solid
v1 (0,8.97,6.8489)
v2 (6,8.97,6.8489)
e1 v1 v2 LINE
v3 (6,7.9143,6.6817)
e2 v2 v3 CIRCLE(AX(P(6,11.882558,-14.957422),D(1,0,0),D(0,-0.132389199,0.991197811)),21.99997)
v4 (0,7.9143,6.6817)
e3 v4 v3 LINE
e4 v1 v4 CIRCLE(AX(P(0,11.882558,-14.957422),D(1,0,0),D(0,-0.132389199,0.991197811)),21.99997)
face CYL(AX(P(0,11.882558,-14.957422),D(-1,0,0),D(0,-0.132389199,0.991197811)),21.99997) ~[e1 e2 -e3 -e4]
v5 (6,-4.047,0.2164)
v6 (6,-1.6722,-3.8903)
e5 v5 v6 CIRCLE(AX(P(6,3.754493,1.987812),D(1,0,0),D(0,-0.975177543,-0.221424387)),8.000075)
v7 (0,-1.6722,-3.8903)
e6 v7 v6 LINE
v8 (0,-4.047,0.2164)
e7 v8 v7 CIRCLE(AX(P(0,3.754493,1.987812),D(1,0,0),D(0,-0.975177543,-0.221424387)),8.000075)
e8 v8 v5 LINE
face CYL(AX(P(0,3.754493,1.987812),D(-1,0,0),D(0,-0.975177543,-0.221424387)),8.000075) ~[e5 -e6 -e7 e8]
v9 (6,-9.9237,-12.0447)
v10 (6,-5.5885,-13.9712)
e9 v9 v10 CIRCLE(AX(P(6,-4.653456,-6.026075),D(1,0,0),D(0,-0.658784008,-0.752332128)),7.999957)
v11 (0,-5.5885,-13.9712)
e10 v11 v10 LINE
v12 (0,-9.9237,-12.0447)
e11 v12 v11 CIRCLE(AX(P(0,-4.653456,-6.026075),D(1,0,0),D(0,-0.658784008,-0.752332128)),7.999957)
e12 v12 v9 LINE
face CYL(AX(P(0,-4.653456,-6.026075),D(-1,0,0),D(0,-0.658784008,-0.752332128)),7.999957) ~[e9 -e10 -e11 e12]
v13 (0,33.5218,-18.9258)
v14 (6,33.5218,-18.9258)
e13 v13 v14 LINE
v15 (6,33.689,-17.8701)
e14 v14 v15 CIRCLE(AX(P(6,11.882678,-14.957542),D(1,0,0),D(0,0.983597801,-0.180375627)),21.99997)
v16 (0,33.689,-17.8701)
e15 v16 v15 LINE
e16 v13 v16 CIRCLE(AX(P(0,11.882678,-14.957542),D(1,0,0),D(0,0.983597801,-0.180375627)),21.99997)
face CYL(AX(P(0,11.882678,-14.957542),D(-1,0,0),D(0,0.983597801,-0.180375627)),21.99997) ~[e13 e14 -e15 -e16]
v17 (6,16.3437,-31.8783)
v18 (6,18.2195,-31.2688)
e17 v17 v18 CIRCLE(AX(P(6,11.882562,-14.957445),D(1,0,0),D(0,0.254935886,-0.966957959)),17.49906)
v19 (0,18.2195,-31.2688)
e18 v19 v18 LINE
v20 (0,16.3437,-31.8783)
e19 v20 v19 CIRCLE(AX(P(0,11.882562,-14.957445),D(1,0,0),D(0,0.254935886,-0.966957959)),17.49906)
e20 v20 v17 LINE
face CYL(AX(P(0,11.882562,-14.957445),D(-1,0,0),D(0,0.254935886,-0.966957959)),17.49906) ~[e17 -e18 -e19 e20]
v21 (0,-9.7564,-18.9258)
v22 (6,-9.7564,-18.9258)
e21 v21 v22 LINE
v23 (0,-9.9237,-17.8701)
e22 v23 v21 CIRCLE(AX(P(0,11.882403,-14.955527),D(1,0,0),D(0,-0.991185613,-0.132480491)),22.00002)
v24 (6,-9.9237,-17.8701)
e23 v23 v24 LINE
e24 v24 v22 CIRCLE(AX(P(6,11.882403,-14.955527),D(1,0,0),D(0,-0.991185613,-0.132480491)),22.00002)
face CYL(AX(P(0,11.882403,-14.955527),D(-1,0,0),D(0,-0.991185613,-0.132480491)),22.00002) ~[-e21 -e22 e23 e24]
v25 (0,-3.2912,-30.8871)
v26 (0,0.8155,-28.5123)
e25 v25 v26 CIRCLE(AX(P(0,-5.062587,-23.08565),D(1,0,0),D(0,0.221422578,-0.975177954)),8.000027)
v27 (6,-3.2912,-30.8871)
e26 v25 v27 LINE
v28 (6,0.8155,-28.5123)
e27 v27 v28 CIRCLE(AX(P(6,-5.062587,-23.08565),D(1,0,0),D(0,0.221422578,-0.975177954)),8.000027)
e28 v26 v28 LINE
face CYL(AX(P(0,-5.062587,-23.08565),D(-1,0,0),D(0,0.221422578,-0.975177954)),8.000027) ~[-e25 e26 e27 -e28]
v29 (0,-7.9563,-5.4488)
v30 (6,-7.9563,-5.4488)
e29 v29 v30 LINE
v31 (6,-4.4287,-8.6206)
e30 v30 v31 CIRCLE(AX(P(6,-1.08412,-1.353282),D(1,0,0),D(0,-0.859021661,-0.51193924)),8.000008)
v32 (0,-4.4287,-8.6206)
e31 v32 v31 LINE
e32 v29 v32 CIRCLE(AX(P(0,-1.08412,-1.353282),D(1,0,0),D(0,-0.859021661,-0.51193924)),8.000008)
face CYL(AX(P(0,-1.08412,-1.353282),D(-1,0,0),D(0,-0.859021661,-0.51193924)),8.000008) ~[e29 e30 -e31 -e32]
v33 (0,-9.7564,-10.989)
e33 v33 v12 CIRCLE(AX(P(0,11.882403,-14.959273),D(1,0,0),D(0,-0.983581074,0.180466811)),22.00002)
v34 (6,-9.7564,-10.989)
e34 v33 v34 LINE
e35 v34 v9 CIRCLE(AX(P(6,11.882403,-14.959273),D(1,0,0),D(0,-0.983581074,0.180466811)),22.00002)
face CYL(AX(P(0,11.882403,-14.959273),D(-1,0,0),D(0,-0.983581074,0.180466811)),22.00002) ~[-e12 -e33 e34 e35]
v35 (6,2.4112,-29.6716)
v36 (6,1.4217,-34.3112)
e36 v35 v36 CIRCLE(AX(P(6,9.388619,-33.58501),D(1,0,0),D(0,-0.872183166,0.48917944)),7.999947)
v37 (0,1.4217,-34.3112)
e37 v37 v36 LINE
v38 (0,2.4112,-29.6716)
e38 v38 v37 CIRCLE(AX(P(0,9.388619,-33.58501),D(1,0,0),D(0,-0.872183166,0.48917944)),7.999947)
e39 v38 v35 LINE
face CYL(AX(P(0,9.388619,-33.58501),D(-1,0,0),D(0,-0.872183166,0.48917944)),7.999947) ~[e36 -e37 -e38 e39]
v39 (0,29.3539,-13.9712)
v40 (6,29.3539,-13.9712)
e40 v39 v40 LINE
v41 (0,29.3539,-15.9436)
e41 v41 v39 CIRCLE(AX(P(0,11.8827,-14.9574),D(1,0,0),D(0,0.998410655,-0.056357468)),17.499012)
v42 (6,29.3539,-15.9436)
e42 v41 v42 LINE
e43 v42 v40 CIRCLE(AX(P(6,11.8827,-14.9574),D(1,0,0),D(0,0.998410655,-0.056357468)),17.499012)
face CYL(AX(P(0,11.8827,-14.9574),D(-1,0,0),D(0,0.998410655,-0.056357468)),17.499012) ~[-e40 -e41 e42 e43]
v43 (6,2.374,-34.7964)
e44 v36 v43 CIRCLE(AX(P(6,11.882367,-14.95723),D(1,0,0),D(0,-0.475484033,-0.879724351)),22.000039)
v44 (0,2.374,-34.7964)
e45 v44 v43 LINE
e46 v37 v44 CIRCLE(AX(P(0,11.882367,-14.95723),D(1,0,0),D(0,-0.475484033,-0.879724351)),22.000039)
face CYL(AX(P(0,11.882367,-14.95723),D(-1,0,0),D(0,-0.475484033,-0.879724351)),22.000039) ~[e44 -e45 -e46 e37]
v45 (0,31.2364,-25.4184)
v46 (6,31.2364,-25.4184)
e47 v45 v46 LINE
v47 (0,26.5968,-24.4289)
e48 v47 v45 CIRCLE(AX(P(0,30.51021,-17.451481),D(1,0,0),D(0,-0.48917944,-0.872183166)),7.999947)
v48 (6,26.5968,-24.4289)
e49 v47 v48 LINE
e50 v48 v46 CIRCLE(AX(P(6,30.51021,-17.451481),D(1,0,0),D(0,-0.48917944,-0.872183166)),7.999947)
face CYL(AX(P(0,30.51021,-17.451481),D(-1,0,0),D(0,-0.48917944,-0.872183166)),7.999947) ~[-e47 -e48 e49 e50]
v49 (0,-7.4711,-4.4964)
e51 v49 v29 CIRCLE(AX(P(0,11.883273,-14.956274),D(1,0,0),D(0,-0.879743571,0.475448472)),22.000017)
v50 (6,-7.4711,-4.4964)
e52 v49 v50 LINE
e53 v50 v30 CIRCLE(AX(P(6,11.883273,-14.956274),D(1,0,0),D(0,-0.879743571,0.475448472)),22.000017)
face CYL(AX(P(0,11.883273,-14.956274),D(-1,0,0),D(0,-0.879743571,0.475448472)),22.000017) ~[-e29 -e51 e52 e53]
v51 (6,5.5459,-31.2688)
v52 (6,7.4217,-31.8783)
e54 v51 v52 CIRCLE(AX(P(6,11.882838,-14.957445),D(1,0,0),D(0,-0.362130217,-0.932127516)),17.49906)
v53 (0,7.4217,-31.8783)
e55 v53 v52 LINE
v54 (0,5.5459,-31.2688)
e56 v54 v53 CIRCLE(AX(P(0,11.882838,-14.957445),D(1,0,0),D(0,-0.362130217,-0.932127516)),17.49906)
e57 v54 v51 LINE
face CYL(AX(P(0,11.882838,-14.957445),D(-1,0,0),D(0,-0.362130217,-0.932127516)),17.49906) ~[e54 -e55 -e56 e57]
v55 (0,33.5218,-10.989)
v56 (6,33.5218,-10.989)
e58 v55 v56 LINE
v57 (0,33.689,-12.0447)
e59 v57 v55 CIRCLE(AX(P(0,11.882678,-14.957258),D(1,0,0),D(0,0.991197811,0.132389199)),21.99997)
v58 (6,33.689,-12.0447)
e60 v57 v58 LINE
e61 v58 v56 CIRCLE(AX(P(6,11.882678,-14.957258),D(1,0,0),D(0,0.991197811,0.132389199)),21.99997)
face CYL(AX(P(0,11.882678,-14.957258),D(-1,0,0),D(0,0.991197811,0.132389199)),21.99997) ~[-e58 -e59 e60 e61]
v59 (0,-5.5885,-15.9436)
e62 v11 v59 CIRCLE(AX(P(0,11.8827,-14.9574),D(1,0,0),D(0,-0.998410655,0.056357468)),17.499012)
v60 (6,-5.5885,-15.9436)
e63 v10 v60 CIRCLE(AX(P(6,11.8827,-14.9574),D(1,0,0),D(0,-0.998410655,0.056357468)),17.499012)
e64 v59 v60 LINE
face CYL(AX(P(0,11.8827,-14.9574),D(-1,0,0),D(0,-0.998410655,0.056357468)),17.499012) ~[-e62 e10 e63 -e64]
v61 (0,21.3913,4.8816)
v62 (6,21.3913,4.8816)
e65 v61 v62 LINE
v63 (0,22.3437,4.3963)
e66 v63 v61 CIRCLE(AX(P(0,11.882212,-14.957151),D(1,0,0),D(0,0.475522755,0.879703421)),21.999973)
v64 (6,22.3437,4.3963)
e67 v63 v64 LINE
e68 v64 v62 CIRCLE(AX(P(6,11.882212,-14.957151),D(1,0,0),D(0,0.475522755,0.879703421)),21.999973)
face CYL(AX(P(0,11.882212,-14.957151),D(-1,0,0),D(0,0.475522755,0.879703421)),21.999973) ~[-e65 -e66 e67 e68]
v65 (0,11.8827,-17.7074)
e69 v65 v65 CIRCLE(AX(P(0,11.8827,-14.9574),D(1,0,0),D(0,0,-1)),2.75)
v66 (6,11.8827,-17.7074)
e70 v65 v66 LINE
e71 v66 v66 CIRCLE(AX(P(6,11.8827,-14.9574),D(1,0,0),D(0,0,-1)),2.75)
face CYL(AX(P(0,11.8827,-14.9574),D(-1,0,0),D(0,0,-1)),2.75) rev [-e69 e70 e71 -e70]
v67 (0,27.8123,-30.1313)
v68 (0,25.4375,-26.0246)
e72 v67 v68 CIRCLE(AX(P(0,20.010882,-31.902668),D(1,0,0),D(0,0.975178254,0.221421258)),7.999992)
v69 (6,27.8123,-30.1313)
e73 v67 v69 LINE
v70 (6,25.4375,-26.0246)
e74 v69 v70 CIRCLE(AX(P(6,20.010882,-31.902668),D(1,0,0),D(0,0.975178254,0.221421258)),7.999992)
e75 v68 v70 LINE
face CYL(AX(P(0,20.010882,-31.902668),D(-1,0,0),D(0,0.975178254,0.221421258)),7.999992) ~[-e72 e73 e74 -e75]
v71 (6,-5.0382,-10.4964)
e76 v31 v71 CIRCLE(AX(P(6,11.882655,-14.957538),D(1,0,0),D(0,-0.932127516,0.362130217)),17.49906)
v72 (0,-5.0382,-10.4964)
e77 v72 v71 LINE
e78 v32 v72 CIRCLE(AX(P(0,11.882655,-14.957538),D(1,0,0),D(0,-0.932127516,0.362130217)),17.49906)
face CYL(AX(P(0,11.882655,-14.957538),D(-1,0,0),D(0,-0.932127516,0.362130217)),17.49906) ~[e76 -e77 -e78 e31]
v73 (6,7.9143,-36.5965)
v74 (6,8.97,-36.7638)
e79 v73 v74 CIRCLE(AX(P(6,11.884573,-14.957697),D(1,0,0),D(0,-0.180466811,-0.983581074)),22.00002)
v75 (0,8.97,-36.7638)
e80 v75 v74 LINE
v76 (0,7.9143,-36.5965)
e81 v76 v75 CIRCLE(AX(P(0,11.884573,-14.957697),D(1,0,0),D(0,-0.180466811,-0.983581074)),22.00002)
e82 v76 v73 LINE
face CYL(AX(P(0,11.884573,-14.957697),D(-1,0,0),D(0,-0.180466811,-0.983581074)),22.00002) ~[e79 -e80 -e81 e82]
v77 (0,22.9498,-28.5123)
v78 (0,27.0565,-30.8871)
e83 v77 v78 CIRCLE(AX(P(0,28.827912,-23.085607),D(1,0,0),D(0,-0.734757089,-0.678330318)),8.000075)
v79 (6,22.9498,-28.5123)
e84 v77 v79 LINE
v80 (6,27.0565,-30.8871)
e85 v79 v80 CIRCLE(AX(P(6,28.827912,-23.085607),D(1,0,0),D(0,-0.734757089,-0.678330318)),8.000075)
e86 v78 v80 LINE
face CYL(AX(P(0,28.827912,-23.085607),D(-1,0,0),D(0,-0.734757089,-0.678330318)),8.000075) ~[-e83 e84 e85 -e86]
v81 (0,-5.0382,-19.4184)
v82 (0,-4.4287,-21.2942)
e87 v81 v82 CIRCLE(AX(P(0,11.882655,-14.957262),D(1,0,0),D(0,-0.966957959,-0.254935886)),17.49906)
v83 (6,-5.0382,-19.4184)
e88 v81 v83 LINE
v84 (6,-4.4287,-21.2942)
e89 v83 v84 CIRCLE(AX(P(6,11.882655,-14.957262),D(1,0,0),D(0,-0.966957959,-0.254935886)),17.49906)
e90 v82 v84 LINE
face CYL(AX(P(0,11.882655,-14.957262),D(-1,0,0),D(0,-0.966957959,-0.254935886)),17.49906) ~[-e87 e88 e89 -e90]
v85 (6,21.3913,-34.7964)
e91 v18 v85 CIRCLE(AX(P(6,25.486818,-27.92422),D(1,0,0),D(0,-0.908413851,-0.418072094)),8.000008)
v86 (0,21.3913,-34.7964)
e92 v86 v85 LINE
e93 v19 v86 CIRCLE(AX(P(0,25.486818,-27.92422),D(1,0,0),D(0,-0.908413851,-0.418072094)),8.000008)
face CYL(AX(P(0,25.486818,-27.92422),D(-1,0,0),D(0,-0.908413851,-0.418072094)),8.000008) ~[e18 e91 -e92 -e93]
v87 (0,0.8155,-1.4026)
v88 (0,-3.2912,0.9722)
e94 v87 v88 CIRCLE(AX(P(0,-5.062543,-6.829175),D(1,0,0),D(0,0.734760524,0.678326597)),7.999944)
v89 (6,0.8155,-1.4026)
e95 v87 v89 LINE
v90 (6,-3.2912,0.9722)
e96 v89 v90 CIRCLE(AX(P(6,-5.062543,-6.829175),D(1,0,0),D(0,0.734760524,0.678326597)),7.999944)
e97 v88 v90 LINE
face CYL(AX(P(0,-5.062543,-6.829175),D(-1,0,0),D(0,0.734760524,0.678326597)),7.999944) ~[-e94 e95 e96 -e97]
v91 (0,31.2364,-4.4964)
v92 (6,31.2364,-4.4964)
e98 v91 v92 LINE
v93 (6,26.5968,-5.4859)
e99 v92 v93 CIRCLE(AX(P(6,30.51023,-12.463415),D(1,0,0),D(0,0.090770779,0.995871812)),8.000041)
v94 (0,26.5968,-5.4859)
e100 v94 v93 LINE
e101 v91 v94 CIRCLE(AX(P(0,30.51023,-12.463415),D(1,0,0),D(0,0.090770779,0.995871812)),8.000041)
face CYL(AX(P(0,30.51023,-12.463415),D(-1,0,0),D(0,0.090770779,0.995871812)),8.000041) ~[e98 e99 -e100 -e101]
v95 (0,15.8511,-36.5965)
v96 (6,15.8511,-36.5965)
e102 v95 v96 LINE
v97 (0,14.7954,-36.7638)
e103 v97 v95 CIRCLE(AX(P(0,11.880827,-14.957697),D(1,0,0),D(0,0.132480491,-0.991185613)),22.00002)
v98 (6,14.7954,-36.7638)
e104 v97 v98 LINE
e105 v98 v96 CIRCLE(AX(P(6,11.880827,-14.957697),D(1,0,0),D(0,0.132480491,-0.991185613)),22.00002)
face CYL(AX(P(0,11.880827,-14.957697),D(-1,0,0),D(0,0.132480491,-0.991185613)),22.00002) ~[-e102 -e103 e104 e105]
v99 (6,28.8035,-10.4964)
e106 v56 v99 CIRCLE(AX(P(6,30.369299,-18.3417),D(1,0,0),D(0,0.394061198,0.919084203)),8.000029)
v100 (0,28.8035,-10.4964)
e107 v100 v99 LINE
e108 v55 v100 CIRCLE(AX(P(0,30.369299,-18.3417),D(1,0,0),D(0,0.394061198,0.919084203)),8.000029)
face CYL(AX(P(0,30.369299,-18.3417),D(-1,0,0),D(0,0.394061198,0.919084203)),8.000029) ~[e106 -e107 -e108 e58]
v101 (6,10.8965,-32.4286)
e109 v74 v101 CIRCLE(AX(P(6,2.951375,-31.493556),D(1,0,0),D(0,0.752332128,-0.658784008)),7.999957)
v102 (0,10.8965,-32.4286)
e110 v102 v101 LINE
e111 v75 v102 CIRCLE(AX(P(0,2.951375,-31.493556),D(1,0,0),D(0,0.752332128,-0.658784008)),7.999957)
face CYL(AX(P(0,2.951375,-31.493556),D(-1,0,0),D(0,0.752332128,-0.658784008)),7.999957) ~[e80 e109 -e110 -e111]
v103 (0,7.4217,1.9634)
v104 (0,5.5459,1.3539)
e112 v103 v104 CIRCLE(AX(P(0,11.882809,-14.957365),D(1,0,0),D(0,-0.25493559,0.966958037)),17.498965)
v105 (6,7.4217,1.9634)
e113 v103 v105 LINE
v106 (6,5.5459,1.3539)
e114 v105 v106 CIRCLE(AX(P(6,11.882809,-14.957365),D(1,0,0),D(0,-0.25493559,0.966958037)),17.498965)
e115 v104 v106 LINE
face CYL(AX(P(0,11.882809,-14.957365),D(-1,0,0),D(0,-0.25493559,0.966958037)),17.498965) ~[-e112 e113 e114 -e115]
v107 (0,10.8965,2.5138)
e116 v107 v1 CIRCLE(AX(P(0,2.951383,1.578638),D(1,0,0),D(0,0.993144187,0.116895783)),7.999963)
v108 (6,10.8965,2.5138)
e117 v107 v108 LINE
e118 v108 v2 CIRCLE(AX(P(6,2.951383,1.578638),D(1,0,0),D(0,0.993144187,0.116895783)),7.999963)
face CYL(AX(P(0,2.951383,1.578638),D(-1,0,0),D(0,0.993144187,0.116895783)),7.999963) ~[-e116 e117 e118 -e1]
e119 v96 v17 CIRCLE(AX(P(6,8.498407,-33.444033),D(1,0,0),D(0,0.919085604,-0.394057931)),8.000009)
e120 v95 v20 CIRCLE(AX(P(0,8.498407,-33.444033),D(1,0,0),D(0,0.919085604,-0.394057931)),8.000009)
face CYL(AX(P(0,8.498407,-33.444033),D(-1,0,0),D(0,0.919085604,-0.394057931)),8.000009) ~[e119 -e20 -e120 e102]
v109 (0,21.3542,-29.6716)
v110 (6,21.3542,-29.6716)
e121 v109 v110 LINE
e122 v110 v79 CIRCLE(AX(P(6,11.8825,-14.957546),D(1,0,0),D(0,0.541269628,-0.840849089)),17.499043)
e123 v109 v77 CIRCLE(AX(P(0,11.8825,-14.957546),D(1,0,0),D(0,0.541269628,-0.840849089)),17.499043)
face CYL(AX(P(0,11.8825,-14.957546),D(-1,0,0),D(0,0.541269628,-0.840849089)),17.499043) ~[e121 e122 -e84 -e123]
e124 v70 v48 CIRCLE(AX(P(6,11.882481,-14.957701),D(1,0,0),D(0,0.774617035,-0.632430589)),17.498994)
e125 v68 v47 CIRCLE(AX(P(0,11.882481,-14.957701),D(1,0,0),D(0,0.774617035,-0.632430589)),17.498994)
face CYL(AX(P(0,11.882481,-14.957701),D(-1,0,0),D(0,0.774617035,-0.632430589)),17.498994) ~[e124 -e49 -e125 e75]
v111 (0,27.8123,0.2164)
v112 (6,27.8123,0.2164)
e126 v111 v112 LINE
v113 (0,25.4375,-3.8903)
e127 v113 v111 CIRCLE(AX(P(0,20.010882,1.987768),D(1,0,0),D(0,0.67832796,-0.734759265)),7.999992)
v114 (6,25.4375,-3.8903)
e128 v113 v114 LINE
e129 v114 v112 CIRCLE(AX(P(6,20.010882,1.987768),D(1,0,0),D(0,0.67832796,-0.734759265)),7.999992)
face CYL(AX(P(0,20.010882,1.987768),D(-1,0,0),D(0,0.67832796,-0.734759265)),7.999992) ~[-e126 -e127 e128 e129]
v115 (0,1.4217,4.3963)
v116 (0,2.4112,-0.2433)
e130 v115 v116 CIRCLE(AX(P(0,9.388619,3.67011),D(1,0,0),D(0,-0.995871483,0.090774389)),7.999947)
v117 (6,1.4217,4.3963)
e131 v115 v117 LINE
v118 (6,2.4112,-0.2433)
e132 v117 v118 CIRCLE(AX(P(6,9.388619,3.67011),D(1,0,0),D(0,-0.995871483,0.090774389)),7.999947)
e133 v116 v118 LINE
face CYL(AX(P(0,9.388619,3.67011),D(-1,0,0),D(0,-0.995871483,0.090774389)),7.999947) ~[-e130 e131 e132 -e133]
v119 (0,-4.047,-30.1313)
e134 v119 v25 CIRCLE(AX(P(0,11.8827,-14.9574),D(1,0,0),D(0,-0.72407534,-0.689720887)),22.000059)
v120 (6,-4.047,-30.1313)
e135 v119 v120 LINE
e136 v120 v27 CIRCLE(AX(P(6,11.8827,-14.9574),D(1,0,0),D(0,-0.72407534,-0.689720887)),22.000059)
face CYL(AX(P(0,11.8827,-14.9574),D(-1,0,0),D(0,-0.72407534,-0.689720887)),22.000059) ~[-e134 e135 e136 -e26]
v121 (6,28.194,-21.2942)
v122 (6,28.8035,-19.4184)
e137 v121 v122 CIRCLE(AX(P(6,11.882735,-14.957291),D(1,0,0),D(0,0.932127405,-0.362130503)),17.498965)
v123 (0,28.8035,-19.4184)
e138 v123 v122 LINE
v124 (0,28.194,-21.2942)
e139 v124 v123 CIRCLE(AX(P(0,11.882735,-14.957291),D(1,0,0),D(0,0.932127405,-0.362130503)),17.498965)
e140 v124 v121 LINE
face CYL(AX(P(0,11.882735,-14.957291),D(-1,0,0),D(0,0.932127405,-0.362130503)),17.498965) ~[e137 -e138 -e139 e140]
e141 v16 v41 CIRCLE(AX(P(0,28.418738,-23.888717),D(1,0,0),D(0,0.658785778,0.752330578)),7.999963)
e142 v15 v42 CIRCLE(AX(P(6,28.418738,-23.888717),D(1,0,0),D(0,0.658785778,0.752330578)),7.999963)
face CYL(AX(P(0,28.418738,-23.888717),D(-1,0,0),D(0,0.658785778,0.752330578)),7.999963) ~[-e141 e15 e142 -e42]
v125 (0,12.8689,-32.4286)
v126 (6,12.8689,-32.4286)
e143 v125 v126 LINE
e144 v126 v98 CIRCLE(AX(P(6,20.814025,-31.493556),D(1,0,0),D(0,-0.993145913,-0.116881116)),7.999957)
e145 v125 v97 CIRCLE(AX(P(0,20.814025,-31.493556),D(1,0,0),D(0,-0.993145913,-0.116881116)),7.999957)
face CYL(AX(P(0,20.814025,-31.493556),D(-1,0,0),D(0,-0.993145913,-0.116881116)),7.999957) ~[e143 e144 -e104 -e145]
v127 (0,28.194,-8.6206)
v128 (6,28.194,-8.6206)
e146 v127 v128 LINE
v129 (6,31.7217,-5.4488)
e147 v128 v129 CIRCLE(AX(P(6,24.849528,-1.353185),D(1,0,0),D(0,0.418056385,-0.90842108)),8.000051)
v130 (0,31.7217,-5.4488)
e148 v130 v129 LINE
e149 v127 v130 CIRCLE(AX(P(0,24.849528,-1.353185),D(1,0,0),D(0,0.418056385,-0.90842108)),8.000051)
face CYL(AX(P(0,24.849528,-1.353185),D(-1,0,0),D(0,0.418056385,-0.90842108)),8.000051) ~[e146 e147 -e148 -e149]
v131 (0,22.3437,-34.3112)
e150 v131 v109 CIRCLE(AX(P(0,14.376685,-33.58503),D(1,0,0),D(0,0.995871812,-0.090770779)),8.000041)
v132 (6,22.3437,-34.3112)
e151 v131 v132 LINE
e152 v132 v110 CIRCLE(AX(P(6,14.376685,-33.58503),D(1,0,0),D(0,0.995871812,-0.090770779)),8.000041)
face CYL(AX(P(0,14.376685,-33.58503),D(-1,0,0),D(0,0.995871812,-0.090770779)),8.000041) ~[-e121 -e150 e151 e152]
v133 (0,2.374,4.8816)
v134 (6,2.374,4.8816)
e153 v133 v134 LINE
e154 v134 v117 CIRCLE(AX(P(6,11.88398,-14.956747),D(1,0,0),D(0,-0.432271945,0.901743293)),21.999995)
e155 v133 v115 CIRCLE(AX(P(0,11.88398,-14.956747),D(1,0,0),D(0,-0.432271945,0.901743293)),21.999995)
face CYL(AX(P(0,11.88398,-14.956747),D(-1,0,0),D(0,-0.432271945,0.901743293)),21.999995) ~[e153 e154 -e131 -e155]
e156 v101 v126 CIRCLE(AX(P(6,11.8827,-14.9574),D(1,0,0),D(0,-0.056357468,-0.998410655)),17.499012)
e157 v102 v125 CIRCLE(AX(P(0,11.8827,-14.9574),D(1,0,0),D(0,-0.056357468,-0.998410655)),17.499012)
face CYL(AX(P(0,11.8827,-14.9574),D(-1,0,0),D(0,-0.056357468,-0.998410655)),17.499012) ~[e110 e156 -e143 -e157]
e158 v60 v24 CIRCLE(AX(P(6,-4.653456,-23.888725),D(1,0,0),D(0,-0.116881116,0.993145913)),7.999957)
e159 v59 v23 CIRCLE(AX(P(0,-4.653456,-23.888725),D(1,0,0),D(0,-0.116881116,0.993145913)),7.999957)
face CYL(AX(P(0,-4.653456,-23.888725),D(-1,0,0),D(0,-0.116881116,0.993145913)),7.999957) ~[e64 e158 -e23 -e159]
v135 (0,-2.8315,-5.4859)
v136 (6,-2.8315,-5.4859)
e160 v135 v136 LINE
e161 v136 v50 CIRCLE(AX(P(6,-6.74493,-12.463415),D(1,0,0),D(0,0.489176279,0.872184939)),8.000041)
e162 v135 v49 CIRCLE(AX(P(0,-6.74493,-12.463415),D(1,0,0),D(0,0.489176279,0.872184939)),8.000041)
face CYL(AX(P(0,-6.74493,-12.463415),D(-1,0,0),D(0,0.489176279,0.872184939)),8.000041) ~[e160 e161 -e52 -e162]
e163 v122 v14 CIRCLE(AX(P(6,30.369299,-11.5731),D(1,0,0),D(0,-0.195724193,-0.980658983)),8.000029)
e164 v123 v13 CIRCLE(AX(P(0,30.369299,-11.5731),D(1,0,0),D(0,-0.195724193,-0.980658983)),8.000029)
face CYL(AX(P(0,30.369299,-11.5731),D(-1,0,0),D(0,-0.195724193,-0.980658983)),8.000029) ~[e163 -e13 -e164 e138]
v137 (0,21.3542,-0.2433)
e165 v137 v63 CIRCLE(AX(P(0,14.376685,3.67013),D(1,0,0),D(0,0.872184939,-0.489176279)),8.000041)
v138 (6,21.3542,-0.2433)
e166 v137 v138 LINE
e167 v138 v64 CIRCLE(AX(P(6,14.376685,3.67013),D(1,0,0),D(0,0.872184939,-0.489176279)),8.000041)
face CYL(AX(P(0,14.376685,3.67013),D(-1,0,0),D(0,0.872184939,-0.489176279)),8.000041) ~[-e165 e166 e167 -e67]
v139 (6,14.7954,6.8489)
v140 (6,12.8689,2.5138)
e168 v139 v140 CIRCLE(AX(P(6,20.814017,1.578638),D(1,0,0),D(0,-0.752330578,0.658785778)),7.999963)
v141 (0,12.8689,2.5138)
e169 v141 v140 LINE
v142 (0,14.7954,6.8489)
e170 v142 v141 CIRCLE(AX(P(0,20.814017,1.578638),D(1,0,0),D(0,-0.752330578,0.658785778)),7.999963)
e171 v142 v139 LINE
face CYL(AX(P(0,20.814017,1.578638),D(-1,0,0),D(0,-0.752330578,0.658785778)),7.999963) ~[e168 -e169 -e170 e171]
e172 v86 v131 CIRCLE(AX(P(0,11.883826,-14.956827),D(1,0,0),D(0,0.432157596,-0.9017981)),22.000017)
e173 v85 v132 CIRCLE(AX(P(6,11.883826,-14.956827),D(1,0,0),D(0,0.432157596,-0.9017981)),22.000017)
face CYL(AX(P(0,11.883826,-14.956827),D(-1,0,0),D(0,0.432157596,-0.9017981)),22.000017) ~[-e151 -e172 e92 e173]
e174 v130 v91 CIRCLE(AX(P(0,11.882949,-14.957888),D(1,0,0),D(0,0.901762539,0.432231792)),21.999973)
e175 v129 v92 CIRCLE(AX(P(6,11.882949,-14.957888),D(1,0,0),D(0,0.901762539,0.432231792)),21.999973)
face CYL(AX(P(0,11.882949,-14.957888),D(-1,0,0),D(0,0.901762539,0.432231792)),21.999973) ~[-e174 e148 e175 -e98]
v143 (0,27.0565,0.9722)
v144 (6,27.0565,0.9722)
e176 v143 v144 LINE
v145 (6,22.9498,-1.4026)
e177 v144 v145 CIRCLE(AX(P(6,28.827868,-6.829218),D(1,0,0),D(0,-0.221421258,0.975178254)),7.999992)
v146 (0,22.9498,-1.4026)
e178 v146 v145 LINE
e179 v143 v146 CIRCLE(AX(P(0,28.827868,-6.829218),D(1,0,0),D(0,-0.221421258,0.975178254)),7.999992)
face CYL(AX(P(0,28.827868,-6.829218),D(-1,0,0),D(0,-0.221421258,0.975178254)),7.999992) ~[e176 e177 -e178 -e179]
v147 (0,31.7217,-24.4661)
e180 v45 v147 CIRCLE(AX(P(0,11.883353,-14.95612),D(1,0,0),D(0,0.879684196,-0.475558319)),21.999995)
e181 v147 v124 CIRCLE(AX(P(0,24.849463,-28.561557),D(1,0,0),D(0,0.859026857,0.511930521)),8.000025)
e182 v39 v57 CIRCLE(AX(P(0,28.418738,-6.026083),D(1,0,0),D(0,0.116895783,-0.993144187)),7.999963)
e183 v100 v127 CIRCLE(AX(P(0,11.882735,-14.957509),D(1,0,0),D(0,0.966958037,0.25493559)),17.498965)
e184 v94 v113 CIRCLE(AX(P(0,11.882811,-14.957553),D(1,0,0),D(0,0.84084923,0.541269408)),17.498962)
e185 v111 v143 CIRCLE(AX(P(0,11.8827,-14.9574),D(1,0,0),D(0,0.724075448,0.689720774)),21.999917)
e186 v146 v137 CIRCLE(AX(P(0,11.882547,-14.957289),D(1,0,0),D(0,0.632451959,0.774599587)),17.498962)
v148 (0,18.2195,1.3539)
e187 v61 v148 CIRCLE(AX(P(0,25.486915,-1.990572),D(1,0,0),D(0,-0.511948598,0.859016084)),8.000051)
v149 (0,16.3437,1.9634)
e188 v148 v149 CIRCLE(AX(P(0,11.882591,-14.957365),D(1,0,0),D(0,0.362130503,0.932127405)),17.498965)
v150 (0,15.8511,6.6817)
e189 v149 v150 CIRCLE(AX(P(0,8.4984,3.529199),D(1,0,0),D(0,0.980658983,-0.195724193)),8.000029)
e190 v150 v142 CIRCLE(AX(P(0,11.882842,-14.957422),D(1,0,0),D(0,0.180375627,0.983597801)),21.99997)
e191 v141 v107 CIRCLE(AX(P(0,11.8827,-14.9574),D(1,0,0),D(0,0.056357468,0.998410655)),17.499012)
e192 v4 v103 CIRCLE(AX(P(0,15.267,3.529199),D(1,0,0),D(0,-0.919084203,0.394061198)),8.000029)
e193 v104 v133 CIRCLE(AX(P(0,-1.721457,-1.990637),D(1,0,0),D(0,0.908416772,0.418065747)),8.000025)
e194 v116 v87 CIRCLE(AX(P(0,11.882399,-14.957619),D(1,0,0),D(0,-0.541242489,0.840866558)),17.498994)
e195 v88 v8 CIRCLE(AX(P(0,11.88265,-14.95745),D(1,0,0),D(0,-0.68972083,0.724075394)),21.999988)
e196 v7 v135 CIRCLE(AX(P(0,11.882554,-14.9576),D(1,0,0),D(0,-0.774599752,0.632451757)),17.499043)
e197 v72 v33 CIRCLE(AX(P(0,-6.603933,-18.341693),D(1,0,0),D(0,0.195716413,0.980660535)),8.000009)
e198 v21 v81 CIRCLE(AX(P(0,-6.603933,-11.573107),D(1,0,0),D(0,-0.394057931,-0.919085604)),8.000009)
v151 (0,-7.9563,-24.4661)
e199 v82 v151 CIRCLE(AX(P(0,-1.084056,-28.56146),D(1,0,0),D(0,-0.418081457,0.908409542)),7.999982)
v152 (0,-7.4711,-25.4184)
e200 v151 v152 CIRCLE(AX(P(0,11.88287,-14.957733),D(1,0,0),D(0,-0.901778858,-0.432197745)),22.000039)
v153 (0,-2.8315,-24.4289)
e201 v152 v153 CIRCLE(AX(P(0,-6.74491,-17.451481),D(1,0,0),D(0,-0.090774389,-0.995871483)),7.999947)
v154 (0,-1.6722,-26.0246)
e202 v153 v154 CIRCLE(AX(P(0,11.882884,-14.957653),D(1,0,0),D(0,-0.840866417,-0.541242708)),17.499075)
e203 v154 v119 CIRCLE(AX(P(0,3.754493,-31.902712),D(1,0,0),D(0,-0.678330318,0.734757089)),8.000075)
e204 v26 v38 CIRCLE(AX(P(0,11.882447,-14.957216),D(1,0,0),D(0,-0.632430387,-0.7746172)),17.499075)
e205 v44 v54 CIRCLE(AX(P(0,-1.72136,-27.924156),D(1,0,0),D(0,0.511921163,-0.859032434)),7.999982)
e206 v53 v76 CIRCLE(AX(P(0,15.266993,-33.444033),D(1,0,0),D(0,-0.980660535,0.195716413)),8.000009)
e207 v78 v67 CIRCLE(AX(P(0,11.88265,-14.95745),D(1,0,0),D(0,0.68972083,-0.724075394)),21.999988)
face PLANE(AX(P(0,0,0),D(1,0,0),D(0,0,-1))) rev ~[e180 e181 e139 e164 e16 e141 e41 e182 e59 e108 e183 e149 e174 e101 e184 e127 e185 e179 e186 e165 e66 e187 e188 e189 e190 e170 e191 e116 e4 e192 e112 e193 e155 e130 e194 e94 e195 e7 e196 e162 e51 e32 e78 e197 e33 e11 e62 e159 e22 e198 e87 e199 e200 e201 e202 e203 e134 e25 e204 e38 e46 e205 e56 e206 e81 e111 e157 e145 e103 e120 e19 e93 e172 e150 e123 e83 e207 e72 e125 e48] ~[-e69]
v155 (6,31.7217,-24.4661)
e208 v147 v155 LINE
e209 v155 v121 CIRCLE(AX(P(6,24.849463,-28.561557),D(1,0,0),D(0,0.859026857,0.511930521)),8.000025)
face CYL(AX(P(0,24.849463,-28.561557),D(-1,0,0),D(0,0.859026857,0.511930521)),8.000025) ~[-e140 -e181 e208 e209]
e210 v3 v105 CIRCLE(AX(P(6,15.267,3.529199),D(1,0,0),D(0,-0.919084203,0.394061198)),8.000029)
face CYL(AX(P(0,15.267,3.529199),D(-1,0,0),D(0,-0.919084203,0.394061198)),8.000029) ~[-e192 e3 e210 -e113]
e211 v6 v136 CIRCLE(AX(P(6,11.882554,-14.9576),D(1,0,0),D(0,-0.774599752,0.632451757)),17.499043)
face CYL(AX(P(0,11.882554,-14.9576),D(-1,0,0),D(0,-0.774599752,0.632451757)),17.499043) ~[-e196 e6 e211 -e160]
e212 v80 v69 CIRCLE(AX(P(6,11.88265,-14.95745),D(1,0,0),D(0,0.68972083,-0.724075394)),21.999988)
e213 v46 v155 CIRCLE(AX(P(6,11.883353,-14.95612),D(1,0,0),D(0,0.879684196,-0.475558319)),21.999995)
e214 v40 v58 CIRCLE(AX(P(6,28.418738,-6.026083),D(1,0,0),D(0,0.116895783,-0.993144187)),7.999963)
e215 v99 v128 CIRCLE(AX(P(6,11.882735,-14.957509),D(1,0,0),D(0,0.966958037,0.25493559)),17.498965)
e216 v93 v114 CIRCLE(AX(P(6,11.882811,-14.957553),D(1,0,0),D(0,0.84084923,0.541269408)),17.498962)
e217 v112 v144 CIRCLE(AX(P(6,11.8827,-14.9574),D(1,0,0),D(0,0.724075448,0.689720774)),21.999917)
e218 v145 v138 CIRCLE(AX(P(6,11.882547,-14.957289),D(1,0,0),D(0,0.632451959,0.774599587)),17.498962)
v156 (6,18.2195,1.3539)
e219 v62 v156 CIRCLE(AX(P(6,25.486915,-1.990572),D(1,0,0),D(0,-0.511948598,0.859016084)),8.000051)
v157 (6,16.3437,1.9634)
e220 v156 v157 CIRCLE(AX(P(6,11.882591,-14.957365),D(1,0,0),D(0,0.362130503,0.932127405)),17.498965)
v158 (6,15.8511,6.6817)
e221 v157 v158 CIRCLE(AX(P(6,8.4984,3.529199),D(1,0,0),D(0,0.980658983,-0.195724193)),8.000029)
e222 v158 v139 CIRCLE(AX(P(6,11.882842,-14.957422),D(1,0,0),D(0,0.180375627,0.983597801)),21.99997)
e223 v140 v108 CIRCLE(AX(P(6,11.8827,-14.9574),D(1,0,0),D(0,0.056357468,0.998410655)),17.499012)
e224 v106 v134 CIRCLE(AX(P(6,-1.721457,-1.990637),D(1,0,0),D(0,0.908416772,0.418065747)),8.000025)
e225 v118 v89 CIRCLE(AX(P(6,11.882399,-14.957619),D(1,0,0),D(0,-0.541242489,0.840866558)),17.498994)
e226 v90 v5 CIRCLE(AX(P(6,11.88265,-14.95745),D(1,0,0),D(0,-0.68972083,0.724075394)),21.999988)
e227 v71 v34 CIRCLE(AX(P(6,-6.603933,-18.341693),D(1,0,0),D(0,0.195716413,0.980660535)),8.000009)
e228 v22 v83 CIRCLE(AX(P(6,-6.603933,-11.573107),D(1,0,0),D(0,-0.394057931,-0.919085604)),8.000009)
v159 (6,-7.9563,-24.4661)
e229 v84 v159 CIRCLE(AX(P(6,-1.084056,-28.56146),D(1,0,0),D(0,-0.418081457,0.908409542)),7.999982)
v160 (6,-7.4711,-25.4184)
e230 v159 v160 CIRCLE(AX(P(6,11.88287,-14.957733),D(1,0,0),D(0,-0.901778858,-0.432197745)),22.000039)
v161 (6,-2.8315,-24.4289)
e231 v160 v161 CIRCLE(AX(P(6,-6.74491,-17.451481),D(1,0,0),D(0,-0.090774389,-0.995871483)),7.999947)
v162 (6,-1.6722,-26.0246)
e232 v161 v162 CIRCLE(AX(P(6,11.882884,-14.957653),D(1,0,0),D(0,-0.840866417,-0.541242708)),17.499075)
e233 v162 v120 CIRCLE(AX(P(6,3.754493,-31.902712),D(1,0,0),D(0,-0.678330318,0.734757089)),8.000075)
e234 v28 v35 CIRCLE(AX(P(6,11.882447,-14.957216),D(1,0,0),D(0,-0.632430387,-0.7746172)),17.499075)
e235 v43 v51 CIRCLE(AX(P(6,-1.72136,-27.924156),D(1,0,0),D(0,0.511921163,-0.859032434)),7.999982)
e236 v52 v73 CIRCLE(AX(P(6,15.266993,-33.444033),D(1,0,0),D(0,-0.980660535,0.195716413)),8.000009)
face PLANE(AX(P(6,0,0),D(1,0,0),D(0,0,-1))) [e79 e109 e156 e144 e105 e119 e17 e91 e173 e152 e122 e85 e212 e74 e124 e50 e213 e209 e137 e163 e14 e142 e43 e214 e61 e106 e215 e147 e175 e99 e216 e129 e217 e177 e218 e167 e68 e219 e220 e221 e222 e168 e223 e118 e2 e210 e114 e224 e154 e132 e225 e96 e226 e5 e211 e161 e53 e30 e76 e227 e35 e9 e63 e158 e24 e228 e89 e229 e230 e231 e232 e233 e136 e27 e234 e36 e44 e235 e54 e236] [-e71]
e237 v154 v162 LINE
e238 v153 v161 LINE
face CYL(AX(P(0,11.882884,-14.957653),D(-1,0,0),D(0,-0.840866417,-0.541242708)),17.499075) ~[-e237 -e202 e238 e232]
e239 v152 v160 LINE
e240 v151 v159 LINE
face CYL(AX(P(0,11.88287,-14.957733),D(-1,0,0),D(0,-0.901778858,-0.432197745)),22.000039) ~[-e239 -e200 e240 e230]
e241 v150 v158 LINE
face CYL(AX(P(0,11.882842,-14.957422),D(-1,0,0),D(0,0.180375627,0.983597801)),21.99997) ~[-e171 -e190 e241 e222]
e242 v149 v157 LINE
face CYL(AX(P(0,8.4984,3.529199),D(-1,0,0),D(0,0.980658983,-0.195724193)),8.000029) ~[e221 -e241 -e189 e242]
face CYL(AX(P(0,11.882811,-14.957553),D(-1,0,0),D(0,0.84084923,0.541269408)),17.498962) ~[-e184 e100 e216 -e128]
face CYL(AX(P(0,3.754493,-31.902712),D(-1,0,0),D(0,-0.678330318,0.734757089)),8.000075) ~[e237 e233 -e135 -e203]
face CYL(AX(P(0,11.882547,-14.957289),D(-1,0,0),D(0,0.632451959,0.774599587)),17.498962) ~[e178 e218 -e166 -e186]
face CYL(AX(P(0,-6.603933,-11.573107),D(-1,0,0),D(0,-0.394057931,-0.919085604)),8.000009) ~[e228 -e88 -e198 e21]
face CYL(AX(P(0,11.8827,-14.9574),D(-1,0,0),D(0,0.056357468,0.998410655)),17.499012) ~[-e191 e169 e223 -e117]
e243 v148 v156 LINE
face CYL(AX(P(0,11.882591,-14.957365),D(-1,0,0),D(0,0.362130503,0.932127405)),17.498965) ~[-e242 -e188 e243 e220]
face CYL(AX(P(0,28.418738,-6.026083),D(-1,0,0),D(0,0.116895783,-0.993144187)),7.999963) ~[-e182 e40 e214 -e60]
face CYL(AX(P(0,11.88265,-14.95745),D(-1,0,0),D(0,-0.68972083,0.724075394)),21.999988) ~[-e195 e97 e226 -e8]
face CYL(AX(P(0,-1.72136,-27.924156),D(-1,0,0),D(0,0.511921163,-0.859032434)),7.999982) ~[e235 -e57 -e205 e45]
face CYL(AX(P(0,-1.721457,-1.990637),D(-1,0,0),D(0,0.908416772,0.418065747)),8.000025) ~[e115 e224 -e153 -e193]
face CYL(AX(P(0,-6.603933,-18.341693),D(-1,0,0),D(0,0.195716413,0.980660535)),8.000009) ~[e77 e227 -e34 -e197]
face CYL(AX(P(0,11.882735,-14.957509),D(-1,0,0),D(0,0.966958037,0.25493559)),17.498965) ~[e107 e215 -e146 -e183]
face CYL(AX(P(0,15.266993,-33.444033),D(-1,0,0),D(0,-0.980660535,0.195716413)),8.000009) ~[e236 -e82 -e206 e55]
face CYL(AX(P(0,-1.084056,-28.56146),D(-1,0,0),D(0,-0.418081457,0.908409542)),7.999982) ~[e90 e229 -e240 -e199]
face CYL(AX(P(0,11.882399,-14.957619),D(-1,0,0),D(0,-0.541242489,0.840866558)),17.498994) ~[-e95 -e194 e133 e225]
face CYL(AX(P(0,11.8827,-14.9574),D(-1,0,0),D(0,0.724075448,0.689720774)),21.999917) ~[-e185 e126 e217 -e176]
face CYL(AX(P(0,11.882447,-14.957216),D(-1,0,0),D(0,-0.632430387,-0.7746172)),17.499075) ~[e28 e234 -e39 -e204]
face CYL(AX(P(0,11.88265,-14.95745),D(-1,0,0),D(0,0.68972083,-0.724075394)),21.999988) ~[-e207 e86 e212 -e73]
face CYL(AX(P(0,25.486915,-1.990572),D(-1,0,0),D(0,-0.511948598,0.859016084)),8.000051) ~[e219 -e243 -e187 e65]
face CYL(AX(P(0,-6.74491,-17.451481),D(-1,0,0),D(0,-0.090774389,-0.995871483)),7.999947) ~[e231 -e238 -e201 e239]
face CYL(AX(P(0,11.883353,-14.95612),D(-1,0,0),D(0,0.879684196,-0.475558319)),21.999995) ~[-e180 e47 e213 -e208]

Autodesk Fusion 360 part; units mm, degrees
sketch "Sketch1" plane through (0, 0, 0) normal (1, 0, 0) x (0, 0, -1)
  arc A0 (30.8871, 27.0565) -> (30.1313, 27.8123) centre (14.9574, 11.8827) ccw
  arc A1 (10.989, -9.7564) -> (12.0447, -9.9237) centre (14.9574, 11.8827) ccw
  arc A2 (4.4964, -7.4711) -> (5.4488, -7.9563) centre (14.9574, 11.8827) ccw
  arc A3 (12.0447, 33.689) -> (10.989, 33.5218) centre (14.9574, 11.8827) ccw
  arc A4 (24.4289, 26.5968) -> (25.4184, 31.2364) centre (17.4515, 30.5103) ccw
  arc A5 (34.3112, 22.3437) -> (29.6716, 21.3542) centre (33.5851, 14.3767) ccw
  arc A6 (25.4184, -7.4711) -> (24.4289, -2.8315) centre (17.4515, -6.745) ccw
  arc A7 (32.4286, 10.8965) -> (32.4286, 12.8689) centre (14.9574, 11.8827) ccw
  arc A8 (36.5965, 7.9143) -> (36.7638, 8.97) centre (14.9574, 11.8827) ccw
  arc A9 (30.8871, -3.2912) -> (28.5123, 0.8155) centre (23.0856, -5.0625) ccw
  arc A10 (1.4026, 0.8155) -> (-0.9722, -3.2912) centre (6.8292, -5.0625) ccw
  arc A11 (-1.3539, 18.2195) -> (-1.9634, 16.3437) centre (14.9574, 11.8827) ccw
  arc A12 (-2.5138, 12.8689) -> (-2.5138, 10.8965) centre (14.9574, 11.8827) ccw
  arc A13 (-1.9634, 16.3437) -> (-6.6817, 15.8511) centre (-3.5292, 8.4984) ccw
  arc A14 (28.5123, 0.8155) -> (29.6716, 2.4112) centre (14.9574, 11.8827) ccw
  arc A15 (10.989, -9.7564) -> (12.0447, -9.9237) centre (14.9574, 11.8827) ccw
  arc A16 (29.6716, 2.4112) -> (34.3112, 1.4217) centre (33.5851, 9.3886) ccw
  arc A17 (8.6206, -4.4287) -> (10.4964, -5.0382) centre (14.9574, 11.8827) ccw
  arc A18 (36.7638, 8.97) -> (32.4286, 10.8965) centre (31.4935, 2.9514) ccw
  arc A19 (28.5123, 0.8155) -> (29.6716, 2.4112) centre (14.9574, 11.8827) ccw
  arc A20 (5.4859, -2.8315) -> (4.4964, -7.4711) centre (12.4634, -6.745) ccw
  arc A21 (24.4661, 31.7217) -> (21.2942, 28.194) centre (28.5615, 24.8494) ccw
  arc A22 (-0.9722, 27.0565) -> (1.4026, 22.9498) centre (6.8292, 28.8279) ccw
  arc A23 (21.2942, -4.4287) -> (24.4661, -7.9563) centre (28.5615, -1.0841) ccw
  arc A24 (25.4184, 31.2364) -> (24.4661, 31.7217) centre (14.9574, 11.8827) ccw
  arc A25 (-1.3539, 5.5459) -> (-4.8816, 2.374) centre (1.9907, -1.7214) ccw
  arc A26 (25.4184, -7.4711) -> (24.4289, -2.8315) centre (17.4515, -6.745) ccw
  arc A27 (5.4859, 26.5968) -> (3.8903, 25.4375) centre (14.9574, 11.8827) ccw
  arc A28 (-0.9722, -3.2912) -> (-0.2164, -4.047) centre (14.9574, 11.8827) ccw
  arc A29 (-6.8489, 8.97) -> (-6.6817, 7.9143) centre (14.9574, 11.8827) ccw
  arc A30 (24.4661, -7.9563) -> (25.4184, -7.4711) centre (14.9574, 11.8827) ccw
  arc A31 (10.989, 33.5218) -> (10.4964, 28.8035) centre (18.3417, 30.3693) ccw
  arc A32 (-0.2164, -4.047) -> (3.8903, -1.6722) centre (-1.9878, 3.7545) ccw
  arc A33 (18.9258, 33.5218) -> (17.8701, 33.689) centre (14.9574, 11.8827) ccw
  arc A34 (3.8903, 25.4375) -> (-0.2164, 27.8123) centre (-1.9878, 20.0109) ccw
  arc A35 (12.0447, 33.689) -> (10.989, 33.5218) centre (14.9574, 11.8827) ccw
  arc A36 (0.2433, 2.4112) -> (1.4026, 0.8155) centre (14.9574, 11.8827) ccw
  arc A37 (-0.9722, 27.0565) -> (1.4026, 22.9498) centre (6.8292, 28.8279) ccw
  arc A38 (24.4289, -2.8315) -> (26.0246, -1.6722) centre (14.9574, 11.8827) ccw
  arc A39 (-6.8489, 8.97) -> (-6.6817, 7.9143) centre (14.9574, 11.8827) ccw
  arc A40 (-4.3963, 1.4217) -> (0.2433, 2.4112) centre (-3.6702, 9.3886) ccw
  arc A41 (1.4026, 0.8155) -> (-0.9722, -3.2912) centre (6.8292, -5.0625) ccw
  arc A42 (-0.2164, 27.8123) -> (-0.9722, 27.0565) centre (14.9574, 11.8827) ccw
  arc A43 (8.6206, 28.194) -> (5.4488, 31.7217) centre (1.3533, 24.8494) ccw
  arc A44 (4.4964, 31.2364) -> (5.4859, 26.5968) centre (12.4634, 30.5103) ccw
  arc A45 (0.2433, 21.3542) -> (-4.3963, 22.3437) centre (-3.6702, 14.3767) ccw
  arc A46 (18.9258, 33.5218) -> (17.8701, 33.689) centre (14.9574, 11.8827) ccw
  arc A47 (4.4964, 31.2364) -> (5.4859, 26.5968) centre (12.4634, 30.5103) ccw
  arc A48 (19.4184, 28.8035) -> (18.9258, 33.5218) centre (11.5731, 30.3693) ccw
  arc A49 (-1.9634, 7.4217) -> (-1.3539, 5.5459) centre (14.9574, 11.8827) ccw
  arc A50 (10.4964, -5.0382) -> (10.989, -9.7564) centre (18.3417, -6.604) ccw
  arc A51 (30.8871, 27.0565) -> (30.1313, 27.8123) centre (14.9574, 11.8827) ccw
  arc A52 (-4.8816, 2.374) -> (-4.3963, 1.4217) centre (14.9574, 11.8827) ccw
  arc A53 (21.2942, 28.194) -> (19.4184, 28.8035) centre (14.9574, 11.8827) ccw
  arc A54 (-0.9722, -3.2912) -> (-0.2164, -4.047) centre (14.9574, 11.8827) ccw
  arc A55 (30.1313, 27.8123) -> (26.0246, 25.4375) centre (31.9027, 20.0109) ccw
  arc A56 (-4.3963, 22.3437) -> (-4.8816, 21.3913) centre (14.9574, 11.8827) ccw
  arc A57 (13.9712, 29.3539) -> (12.0447, 33.689) centre (6.0261, 28.4187) ccw
  arc A58 (-2.5138, 10.8965) -> (-6.8489, 8.97) centre (-1.5786, 2.9514) ccw
  arc A59 (13.9712, 29.3539) -> (12.0447, 33.689) centre (6.0261, 28.4187) ccw
  arc A60 (34.7964, 21.3913) -> (34.3112, 22.3437) centre (14.9574, 11.8827) ccw
  arc A61 (8.6206, 28.194) -> (5.4488, 31.7217) centre (1.3533, 24.8494) ccw
  arc A62 (-2.5138, 12.8689) -> (-2.5138, 10.8965) centre (14.9574, 11.8827) ccw
  arc A63 (19.4184, -5.0382) -> (21.2942, -4.4287) centre (14.9574, 11.8827) ccw
  arc A64 (13.9712, -5.5885) -> (15.9436, -5.5885) centre (14.9574, 11.8827) ccw
  arc A65 (30.1313, 27.8123) -> (26.0246, 25.4375) centre (31.9027, 20.0109) ccw
  arc A66 (19.4184, 28.8035) -> (18.9258, 33.5218) centre (11.5731, 30.3693) ccw
  arc A67 (18.9258, -9.7564) -> (19.4184, -5.0382) centre (11.5731, -6.604) ccw
  arc A68 (-6.6817, 7.9143) -> (-1.9634, 7.4217) centre (-3.5292, 15.267) ccw
  arc A69 (5.4488, 31.7217) -> (4.4964, 31.2364) centre (14.9574, 11.8827) ccw
  arc A70 (12.0447, -9.9237) -> (13.9712, -5.5885) centre (6.0261, -4.6534) ccw
  arc A71 (36.7638, 14.7954) -> (36.5965, 15.8511) centre (14.9574, 11.8827) ccw
  arc A72 (32.4286, 12.8689) -> (36.7638, 14.7954) centre (31.4935, 20.814) ccw
  arc A73 (10.4964, 28.8035) -> (8.6206, 28.194) centre (14.9574, 11.8827) ccw
  arc A74 (15.9436, -5.5885) -> (17.8701, -9.9237) centre (23.8887, -4.6534) ccw
  arc A75 (17.8701, -9.9237) -> (18.9258, -9.7564) centre (14.9574, 11.8827) ccw
  arc A76 (1.4026, 22.9498) -> (0.2433, 21.3542) centre (14.9574, 11.8827) ccw
  arc A77 (26.0246, 25.4375) -> (24.4289, 26.5968) centre (14.9574, 11.8827) ccw
  arc A78 (17.8701, 33.689) -> (15.9436, 29.3539) centre (23.8887, 28.4187) ccw
  arc A79 (32.4286, 10.8965) -> (32.4286, 12.8689) centre (14.9574, 11.8827) ccw
  arc A80 (15.9436, 29.3539) -> (13.9712, 29.3539) centre (14.9574, 11.8827) ccw
  arc A81 (24.4289, 26.5968) -> (25.4184, 31.2364) centre (17.4515, 30.5103) ccw
  arc A82 (32.4286, 12.8689) -> (36.7638, 14.7954) centre (31.4935, 20.814) ccw
  arc A83 (25.4184, 31.2364) -> (24.4661, 31.7217) centre (14.9574, 11.8827) ccw
  arc A84 (36.7638, 14.7954) -> (36.5965, 15.8511) centre (14.9574, 11.8827) ccw
  arc A85 (34.7964, 21.3913) -> (34.3112, 22.3437) centre (14.9574, 11.8827) ccw
  arc A86 (31.2688, 18.2195) -> (34.7964, 21.3913) centre (27.9242, 25.4868) ccw
  arc A87 (28.5123, 22.9498) -> (30.8871, 27.0565) centre (23.0856, 28.8279) ccw
  arc A88 (34.3112, 22.3437) -> (29.6716, 21.3542) centre (33.5851, 14.3767) ccw
  arc A89 (31.8783, 16.3437) -> (31.2688, 18.2195) centre (14.9574, 11.8827) ccw
  arc A90 (36.5965, 15.8511) -> (31.8783, 16.3437) centre (33.4441, 8.4984) ccw
  arc A91 (29.6716, 21.3542) -> (28.5123, 22.9498) centre (14.9574, 11.8827) ccw
  arc A92 (-4.8816, 21.3913) -> (-1.3539, 18.2195) centre (1.9907, 25.4868) ccw
  arc A93 (4.4964, -7.4711) -> (5.4488, -7.9563) centre (14.9574, 11.8827) ccw
  arc A94 (30.1313, -4.047) -> (30.8871, -3.2912) centre (14.9574, 11.8827) ccw
  arc A95 (5.4859, -2.8315) -> (4.4964, -7.4711) centre (12.4634, -6.745) ccw
  arc A96 (5.4488, -7.9563) -> (8.6206, -4.4287) centre (1.3533, -1.0841) ccw
  arc A97 (26.0246, -1.6722) -> (30.1313, -4.047) centre (31.9027, 3.7545) ccw
  arc A98 (-1.3539, 18.2195) -> (-1.9634, 16.3437) centre (14.9574, 11.8827) ccw
  arc A99 (10.989, 33.5218) -> (10.4964, 28.8035) centre (18.3417, 30.3693) ccw
  arc A100 (30.1313, -4.047) -> (30.8871, -3.2912) centre (14.9574, 11.8827) ccw
  arc A101 (-4.3963, 22.3437) -> (-4.8816, 21.3913) centre (14.9574, 11.8827) ccw
  arc A102 (21.2942, -4.4287) -> (24.4661, -7.9563) centre (28.5615, -1.0841) ccw
  arc A103 (15.9436, -5.5885) -> (17.8701, -9.9237) centre (23.8887, -4.6534) ccw
  arc A104 (29.6716, 2.4112) -> (34.3112, 1.4217) centre (33.5851, 9.3886) ccw
  arc A105 (18.9258, -9.7564) -> (19.4184, -5.0382) centre (11.5731, -6.604) ccw
  arc A106 (3.8903, -1.6722) -> (5.4859, -2.8315) centre (14.9574, 11.8827) ccw
  arc A107 (31.8783, 7.4217) -> (36.5965, 7.9143) centre (33.4441, 15.267) ccw
  arc A108 (34.3112, 1.4217) -> (34.7964, 2.374) centre (14.9574, 11.8827) ccw
  arc A109 (1.4026, 22.9498) -> (0.2433, 21.3542) centre (14.9574, 11.8827) ccw
  arc A110 (0.2433, 21.3542) -> (-4.3963, 22.3437) centre (-3.6702, 14.3767) ccw
  arc A111 (34.7964, 2.374) -> (31.2688, 5.5459) centre (27.9242, -1.7214) ccw
  arc A112 (24.4661, -7.9563) -> (25.4184, -7.4711) centre (14.9574, 11.8827) ccw
  arc A113 (26.0246, -1.6722) -> (30.1313, -4.047) centre (31.9027, 3.7545) ccw
  arc A114 (31.2688, 5.5459) -> (31.8783, 7.4217) centre (14.9574, 11.8827) ccw
  arc A115 (10.4964, -5.0382) -> (10.989, -9.7564) centre (18.3417, -6.604) ccw
  arc A116 (12.0447, -9.9237) -> (13.9712, -5.5885) centre (6.0261, -4.6534) ccw
  arc A117 (-6.6817, 15.8511) -> (-6.8489, 14.7954) centre (14.9574, 11.8827) ccw
  arc A118 (34.3112, 1.4217) -> (34.7964, 2.374) centre (14.9574, 11.8827) ccw
  arc A119 (24.4289, -2.8315) -> (26.0246, -1.6722) centre (14.9574, 11.8827) ccw
  arc A120 (-6.8489, 14.7954) -> (-2.5138, 12.8689) centre (-1.5786, 20.814) ccw
  arc A121 (-4.8816, 2.374) -> (-4.3963, 1.4217) centre (14.9574, 11.8827) ccw
  arc A122 (10.4964, 28.8035) -> (8.6206, 28.194) centre (14.9574, 11.8827) ccw
  arc A123 (5.4859, 26.5968) -> (3.8903, 25.4375) centre (14.9574, 11.8827) ccw
  arc A124 (36.5965, 7.9143) -> (36.7638, 8.97) centre (14.9574, 11.8827) ccw
  arc A125 (3.8903, -1.6722) -> (5.4859, -2.8315) centre (14.9574, 11.8827) ccw
  arc A126 (-2.5138, 10.8965) -> (-6.8489, 8.97) centre (-1.5786, 2.9514) ccw
  arc A127 (5.4488, 31.7217) -> (4.4964, 31.2364) centre (14.9574, 11.8827) ccw
  arc A128 (-4.3963, 1.4217) -> (0.2433, 2.4112) centre (-3.6702, 9.3886) ccw
  arc A129 (34.7964, 2.374) -> (31.2688, 5.5459) centre (27.9242, -1.7214) ccw
  arc A130 (13.9712, -5.5885) -> (15.9436, -5.5885) centre (14.9574, 11.8827) ccw
  arc A131 (-6.6817, 7.9143) -> (-1.9634, 7.4217) centre (-3.5292, 15.267) ccw
  arc A132 (31.8783, 7.4217) -> (36.5965, 7.9143) centre (33.4441, 15.267) ccw
  arc A133 (5.4488, -7.9563) -> (8.6206, -4.4287) centre (1.3533, -1.0841) ccw
  arc A134 (0.2433, 2.4112) -> (1.4026, 0.8155) centre (14.9574, 11.8827) ccw
  arc A135 (36.7638, 8.97) -> (32.4286, 10.8965) centre (31.4935, 2.9514) ccw
  arc A136 (-0.2164, -4.047) -> (3.8903, -1.6722) centre (-1.9878, 3.7545) ccw
  arc A137 (28.5123, 22.9498) -> (30.8871, 27.0565) centre (23.0856, 28.8279) ccw
  arc A138 (19.4184, -5.0382) -> (21.2942, -4.4287) centre (14.9574, 11.8827) ccw
  arc A139 (17.8701, -9.9237) -> (18.9258, -9.7564) centre (14.9574, 11.8827) ccw
  arc A140 (30.8871, -3.2912) -> (28.5123, 0.8155) centre (23.0856, -5.0625) ccw
  arc A141 (21.2942, 28.194) -> (19.4184, 28.8035) centre (14.9574, 11.8827) ccw
  arc A142 (36.5965, 15.8511) -> (31.8783, 16.3437) centre (33.4441, 8.4984) ccw
  arc A143 (-1.9634, 16.3437) -> (-6.6817, 15.8511) centre (-3.5292, 8.4984) ccw
  arc A144 (-6.8489, 14.7954) -> (-2.5138, 12.8689) centre (-1.5786, 20.814) ccw
  arc A145 (29.6716, 21.3542) -> (28.5123, 22.9498) centre (14.9574, 11.8827) ccw
  arc A146 (8.6206, -4.4287) -> (10.4964, -5.0382) centre (14.9574, 11.8827) ccw
  arc A147 (-4.8816, 21.3913) -> (-1.3539, 18.2195) centre (1.9907, 25.4868) ccw
  arc A148 (26.0246, 25.4375) -> (24.4289, 26.5968) centre (14.9574, 11.8827) ccw
  arc A149 (3.8903, 25.4375) -> (-0.2164, 27.8123) centre (-1.9878, 20.0109) ccw
  arc A150 (17.8701, 33.689) -> (15.9436, 29.3539) centre (23.8887, 28.4187) ccw
  arc A151 (-1.9634, 7.4217) -> (-1.3539, 5.5459) centre (14.9574, 11.8827) ccw
  arc A152 (15.9436, 29.3539) -> (13.9712, 29.3539) centre (14.9574, 11.8827) ccw
  arc A153 (31.8783, 16.3437) -> (31.2688, 18.2195) centre (14.9574, 11.8827) ccw
  arc A154 (-6.6817, 15.8511) -> (-6.8489, 14.7954) centre (14.9574, 11.8827) ccw
  arc A155 (-1.3539, 5.5459) -> (-4.8816, 2.374) centre (1.9907, -1.7214) ccw
  arc A156 (24.4661, 31.7217) -> (21.2942, 28.194) centre (28.5615, 24.8494) ccw
  arc A157 (-0.2164, 27.8123) -> (-0.9722, 27.0565) centre (14.9574, 11.8827) ccw
  arc A158 (31.2688, 18.2195) -> (34.7964, 21.3913) centre (27.9242, 25.4868) ccw
  arc A159 (31.2688, 5.5459) -> (31.8783, 7.4217) centre (14.9574, 11.8827) ccw
  circle A160 centre (14.9574, 11.8827) radius 2.75
  dimension "d4" = 5.5
extrude "Extrude1" add sketch "Sketch1" along normal blind 6
